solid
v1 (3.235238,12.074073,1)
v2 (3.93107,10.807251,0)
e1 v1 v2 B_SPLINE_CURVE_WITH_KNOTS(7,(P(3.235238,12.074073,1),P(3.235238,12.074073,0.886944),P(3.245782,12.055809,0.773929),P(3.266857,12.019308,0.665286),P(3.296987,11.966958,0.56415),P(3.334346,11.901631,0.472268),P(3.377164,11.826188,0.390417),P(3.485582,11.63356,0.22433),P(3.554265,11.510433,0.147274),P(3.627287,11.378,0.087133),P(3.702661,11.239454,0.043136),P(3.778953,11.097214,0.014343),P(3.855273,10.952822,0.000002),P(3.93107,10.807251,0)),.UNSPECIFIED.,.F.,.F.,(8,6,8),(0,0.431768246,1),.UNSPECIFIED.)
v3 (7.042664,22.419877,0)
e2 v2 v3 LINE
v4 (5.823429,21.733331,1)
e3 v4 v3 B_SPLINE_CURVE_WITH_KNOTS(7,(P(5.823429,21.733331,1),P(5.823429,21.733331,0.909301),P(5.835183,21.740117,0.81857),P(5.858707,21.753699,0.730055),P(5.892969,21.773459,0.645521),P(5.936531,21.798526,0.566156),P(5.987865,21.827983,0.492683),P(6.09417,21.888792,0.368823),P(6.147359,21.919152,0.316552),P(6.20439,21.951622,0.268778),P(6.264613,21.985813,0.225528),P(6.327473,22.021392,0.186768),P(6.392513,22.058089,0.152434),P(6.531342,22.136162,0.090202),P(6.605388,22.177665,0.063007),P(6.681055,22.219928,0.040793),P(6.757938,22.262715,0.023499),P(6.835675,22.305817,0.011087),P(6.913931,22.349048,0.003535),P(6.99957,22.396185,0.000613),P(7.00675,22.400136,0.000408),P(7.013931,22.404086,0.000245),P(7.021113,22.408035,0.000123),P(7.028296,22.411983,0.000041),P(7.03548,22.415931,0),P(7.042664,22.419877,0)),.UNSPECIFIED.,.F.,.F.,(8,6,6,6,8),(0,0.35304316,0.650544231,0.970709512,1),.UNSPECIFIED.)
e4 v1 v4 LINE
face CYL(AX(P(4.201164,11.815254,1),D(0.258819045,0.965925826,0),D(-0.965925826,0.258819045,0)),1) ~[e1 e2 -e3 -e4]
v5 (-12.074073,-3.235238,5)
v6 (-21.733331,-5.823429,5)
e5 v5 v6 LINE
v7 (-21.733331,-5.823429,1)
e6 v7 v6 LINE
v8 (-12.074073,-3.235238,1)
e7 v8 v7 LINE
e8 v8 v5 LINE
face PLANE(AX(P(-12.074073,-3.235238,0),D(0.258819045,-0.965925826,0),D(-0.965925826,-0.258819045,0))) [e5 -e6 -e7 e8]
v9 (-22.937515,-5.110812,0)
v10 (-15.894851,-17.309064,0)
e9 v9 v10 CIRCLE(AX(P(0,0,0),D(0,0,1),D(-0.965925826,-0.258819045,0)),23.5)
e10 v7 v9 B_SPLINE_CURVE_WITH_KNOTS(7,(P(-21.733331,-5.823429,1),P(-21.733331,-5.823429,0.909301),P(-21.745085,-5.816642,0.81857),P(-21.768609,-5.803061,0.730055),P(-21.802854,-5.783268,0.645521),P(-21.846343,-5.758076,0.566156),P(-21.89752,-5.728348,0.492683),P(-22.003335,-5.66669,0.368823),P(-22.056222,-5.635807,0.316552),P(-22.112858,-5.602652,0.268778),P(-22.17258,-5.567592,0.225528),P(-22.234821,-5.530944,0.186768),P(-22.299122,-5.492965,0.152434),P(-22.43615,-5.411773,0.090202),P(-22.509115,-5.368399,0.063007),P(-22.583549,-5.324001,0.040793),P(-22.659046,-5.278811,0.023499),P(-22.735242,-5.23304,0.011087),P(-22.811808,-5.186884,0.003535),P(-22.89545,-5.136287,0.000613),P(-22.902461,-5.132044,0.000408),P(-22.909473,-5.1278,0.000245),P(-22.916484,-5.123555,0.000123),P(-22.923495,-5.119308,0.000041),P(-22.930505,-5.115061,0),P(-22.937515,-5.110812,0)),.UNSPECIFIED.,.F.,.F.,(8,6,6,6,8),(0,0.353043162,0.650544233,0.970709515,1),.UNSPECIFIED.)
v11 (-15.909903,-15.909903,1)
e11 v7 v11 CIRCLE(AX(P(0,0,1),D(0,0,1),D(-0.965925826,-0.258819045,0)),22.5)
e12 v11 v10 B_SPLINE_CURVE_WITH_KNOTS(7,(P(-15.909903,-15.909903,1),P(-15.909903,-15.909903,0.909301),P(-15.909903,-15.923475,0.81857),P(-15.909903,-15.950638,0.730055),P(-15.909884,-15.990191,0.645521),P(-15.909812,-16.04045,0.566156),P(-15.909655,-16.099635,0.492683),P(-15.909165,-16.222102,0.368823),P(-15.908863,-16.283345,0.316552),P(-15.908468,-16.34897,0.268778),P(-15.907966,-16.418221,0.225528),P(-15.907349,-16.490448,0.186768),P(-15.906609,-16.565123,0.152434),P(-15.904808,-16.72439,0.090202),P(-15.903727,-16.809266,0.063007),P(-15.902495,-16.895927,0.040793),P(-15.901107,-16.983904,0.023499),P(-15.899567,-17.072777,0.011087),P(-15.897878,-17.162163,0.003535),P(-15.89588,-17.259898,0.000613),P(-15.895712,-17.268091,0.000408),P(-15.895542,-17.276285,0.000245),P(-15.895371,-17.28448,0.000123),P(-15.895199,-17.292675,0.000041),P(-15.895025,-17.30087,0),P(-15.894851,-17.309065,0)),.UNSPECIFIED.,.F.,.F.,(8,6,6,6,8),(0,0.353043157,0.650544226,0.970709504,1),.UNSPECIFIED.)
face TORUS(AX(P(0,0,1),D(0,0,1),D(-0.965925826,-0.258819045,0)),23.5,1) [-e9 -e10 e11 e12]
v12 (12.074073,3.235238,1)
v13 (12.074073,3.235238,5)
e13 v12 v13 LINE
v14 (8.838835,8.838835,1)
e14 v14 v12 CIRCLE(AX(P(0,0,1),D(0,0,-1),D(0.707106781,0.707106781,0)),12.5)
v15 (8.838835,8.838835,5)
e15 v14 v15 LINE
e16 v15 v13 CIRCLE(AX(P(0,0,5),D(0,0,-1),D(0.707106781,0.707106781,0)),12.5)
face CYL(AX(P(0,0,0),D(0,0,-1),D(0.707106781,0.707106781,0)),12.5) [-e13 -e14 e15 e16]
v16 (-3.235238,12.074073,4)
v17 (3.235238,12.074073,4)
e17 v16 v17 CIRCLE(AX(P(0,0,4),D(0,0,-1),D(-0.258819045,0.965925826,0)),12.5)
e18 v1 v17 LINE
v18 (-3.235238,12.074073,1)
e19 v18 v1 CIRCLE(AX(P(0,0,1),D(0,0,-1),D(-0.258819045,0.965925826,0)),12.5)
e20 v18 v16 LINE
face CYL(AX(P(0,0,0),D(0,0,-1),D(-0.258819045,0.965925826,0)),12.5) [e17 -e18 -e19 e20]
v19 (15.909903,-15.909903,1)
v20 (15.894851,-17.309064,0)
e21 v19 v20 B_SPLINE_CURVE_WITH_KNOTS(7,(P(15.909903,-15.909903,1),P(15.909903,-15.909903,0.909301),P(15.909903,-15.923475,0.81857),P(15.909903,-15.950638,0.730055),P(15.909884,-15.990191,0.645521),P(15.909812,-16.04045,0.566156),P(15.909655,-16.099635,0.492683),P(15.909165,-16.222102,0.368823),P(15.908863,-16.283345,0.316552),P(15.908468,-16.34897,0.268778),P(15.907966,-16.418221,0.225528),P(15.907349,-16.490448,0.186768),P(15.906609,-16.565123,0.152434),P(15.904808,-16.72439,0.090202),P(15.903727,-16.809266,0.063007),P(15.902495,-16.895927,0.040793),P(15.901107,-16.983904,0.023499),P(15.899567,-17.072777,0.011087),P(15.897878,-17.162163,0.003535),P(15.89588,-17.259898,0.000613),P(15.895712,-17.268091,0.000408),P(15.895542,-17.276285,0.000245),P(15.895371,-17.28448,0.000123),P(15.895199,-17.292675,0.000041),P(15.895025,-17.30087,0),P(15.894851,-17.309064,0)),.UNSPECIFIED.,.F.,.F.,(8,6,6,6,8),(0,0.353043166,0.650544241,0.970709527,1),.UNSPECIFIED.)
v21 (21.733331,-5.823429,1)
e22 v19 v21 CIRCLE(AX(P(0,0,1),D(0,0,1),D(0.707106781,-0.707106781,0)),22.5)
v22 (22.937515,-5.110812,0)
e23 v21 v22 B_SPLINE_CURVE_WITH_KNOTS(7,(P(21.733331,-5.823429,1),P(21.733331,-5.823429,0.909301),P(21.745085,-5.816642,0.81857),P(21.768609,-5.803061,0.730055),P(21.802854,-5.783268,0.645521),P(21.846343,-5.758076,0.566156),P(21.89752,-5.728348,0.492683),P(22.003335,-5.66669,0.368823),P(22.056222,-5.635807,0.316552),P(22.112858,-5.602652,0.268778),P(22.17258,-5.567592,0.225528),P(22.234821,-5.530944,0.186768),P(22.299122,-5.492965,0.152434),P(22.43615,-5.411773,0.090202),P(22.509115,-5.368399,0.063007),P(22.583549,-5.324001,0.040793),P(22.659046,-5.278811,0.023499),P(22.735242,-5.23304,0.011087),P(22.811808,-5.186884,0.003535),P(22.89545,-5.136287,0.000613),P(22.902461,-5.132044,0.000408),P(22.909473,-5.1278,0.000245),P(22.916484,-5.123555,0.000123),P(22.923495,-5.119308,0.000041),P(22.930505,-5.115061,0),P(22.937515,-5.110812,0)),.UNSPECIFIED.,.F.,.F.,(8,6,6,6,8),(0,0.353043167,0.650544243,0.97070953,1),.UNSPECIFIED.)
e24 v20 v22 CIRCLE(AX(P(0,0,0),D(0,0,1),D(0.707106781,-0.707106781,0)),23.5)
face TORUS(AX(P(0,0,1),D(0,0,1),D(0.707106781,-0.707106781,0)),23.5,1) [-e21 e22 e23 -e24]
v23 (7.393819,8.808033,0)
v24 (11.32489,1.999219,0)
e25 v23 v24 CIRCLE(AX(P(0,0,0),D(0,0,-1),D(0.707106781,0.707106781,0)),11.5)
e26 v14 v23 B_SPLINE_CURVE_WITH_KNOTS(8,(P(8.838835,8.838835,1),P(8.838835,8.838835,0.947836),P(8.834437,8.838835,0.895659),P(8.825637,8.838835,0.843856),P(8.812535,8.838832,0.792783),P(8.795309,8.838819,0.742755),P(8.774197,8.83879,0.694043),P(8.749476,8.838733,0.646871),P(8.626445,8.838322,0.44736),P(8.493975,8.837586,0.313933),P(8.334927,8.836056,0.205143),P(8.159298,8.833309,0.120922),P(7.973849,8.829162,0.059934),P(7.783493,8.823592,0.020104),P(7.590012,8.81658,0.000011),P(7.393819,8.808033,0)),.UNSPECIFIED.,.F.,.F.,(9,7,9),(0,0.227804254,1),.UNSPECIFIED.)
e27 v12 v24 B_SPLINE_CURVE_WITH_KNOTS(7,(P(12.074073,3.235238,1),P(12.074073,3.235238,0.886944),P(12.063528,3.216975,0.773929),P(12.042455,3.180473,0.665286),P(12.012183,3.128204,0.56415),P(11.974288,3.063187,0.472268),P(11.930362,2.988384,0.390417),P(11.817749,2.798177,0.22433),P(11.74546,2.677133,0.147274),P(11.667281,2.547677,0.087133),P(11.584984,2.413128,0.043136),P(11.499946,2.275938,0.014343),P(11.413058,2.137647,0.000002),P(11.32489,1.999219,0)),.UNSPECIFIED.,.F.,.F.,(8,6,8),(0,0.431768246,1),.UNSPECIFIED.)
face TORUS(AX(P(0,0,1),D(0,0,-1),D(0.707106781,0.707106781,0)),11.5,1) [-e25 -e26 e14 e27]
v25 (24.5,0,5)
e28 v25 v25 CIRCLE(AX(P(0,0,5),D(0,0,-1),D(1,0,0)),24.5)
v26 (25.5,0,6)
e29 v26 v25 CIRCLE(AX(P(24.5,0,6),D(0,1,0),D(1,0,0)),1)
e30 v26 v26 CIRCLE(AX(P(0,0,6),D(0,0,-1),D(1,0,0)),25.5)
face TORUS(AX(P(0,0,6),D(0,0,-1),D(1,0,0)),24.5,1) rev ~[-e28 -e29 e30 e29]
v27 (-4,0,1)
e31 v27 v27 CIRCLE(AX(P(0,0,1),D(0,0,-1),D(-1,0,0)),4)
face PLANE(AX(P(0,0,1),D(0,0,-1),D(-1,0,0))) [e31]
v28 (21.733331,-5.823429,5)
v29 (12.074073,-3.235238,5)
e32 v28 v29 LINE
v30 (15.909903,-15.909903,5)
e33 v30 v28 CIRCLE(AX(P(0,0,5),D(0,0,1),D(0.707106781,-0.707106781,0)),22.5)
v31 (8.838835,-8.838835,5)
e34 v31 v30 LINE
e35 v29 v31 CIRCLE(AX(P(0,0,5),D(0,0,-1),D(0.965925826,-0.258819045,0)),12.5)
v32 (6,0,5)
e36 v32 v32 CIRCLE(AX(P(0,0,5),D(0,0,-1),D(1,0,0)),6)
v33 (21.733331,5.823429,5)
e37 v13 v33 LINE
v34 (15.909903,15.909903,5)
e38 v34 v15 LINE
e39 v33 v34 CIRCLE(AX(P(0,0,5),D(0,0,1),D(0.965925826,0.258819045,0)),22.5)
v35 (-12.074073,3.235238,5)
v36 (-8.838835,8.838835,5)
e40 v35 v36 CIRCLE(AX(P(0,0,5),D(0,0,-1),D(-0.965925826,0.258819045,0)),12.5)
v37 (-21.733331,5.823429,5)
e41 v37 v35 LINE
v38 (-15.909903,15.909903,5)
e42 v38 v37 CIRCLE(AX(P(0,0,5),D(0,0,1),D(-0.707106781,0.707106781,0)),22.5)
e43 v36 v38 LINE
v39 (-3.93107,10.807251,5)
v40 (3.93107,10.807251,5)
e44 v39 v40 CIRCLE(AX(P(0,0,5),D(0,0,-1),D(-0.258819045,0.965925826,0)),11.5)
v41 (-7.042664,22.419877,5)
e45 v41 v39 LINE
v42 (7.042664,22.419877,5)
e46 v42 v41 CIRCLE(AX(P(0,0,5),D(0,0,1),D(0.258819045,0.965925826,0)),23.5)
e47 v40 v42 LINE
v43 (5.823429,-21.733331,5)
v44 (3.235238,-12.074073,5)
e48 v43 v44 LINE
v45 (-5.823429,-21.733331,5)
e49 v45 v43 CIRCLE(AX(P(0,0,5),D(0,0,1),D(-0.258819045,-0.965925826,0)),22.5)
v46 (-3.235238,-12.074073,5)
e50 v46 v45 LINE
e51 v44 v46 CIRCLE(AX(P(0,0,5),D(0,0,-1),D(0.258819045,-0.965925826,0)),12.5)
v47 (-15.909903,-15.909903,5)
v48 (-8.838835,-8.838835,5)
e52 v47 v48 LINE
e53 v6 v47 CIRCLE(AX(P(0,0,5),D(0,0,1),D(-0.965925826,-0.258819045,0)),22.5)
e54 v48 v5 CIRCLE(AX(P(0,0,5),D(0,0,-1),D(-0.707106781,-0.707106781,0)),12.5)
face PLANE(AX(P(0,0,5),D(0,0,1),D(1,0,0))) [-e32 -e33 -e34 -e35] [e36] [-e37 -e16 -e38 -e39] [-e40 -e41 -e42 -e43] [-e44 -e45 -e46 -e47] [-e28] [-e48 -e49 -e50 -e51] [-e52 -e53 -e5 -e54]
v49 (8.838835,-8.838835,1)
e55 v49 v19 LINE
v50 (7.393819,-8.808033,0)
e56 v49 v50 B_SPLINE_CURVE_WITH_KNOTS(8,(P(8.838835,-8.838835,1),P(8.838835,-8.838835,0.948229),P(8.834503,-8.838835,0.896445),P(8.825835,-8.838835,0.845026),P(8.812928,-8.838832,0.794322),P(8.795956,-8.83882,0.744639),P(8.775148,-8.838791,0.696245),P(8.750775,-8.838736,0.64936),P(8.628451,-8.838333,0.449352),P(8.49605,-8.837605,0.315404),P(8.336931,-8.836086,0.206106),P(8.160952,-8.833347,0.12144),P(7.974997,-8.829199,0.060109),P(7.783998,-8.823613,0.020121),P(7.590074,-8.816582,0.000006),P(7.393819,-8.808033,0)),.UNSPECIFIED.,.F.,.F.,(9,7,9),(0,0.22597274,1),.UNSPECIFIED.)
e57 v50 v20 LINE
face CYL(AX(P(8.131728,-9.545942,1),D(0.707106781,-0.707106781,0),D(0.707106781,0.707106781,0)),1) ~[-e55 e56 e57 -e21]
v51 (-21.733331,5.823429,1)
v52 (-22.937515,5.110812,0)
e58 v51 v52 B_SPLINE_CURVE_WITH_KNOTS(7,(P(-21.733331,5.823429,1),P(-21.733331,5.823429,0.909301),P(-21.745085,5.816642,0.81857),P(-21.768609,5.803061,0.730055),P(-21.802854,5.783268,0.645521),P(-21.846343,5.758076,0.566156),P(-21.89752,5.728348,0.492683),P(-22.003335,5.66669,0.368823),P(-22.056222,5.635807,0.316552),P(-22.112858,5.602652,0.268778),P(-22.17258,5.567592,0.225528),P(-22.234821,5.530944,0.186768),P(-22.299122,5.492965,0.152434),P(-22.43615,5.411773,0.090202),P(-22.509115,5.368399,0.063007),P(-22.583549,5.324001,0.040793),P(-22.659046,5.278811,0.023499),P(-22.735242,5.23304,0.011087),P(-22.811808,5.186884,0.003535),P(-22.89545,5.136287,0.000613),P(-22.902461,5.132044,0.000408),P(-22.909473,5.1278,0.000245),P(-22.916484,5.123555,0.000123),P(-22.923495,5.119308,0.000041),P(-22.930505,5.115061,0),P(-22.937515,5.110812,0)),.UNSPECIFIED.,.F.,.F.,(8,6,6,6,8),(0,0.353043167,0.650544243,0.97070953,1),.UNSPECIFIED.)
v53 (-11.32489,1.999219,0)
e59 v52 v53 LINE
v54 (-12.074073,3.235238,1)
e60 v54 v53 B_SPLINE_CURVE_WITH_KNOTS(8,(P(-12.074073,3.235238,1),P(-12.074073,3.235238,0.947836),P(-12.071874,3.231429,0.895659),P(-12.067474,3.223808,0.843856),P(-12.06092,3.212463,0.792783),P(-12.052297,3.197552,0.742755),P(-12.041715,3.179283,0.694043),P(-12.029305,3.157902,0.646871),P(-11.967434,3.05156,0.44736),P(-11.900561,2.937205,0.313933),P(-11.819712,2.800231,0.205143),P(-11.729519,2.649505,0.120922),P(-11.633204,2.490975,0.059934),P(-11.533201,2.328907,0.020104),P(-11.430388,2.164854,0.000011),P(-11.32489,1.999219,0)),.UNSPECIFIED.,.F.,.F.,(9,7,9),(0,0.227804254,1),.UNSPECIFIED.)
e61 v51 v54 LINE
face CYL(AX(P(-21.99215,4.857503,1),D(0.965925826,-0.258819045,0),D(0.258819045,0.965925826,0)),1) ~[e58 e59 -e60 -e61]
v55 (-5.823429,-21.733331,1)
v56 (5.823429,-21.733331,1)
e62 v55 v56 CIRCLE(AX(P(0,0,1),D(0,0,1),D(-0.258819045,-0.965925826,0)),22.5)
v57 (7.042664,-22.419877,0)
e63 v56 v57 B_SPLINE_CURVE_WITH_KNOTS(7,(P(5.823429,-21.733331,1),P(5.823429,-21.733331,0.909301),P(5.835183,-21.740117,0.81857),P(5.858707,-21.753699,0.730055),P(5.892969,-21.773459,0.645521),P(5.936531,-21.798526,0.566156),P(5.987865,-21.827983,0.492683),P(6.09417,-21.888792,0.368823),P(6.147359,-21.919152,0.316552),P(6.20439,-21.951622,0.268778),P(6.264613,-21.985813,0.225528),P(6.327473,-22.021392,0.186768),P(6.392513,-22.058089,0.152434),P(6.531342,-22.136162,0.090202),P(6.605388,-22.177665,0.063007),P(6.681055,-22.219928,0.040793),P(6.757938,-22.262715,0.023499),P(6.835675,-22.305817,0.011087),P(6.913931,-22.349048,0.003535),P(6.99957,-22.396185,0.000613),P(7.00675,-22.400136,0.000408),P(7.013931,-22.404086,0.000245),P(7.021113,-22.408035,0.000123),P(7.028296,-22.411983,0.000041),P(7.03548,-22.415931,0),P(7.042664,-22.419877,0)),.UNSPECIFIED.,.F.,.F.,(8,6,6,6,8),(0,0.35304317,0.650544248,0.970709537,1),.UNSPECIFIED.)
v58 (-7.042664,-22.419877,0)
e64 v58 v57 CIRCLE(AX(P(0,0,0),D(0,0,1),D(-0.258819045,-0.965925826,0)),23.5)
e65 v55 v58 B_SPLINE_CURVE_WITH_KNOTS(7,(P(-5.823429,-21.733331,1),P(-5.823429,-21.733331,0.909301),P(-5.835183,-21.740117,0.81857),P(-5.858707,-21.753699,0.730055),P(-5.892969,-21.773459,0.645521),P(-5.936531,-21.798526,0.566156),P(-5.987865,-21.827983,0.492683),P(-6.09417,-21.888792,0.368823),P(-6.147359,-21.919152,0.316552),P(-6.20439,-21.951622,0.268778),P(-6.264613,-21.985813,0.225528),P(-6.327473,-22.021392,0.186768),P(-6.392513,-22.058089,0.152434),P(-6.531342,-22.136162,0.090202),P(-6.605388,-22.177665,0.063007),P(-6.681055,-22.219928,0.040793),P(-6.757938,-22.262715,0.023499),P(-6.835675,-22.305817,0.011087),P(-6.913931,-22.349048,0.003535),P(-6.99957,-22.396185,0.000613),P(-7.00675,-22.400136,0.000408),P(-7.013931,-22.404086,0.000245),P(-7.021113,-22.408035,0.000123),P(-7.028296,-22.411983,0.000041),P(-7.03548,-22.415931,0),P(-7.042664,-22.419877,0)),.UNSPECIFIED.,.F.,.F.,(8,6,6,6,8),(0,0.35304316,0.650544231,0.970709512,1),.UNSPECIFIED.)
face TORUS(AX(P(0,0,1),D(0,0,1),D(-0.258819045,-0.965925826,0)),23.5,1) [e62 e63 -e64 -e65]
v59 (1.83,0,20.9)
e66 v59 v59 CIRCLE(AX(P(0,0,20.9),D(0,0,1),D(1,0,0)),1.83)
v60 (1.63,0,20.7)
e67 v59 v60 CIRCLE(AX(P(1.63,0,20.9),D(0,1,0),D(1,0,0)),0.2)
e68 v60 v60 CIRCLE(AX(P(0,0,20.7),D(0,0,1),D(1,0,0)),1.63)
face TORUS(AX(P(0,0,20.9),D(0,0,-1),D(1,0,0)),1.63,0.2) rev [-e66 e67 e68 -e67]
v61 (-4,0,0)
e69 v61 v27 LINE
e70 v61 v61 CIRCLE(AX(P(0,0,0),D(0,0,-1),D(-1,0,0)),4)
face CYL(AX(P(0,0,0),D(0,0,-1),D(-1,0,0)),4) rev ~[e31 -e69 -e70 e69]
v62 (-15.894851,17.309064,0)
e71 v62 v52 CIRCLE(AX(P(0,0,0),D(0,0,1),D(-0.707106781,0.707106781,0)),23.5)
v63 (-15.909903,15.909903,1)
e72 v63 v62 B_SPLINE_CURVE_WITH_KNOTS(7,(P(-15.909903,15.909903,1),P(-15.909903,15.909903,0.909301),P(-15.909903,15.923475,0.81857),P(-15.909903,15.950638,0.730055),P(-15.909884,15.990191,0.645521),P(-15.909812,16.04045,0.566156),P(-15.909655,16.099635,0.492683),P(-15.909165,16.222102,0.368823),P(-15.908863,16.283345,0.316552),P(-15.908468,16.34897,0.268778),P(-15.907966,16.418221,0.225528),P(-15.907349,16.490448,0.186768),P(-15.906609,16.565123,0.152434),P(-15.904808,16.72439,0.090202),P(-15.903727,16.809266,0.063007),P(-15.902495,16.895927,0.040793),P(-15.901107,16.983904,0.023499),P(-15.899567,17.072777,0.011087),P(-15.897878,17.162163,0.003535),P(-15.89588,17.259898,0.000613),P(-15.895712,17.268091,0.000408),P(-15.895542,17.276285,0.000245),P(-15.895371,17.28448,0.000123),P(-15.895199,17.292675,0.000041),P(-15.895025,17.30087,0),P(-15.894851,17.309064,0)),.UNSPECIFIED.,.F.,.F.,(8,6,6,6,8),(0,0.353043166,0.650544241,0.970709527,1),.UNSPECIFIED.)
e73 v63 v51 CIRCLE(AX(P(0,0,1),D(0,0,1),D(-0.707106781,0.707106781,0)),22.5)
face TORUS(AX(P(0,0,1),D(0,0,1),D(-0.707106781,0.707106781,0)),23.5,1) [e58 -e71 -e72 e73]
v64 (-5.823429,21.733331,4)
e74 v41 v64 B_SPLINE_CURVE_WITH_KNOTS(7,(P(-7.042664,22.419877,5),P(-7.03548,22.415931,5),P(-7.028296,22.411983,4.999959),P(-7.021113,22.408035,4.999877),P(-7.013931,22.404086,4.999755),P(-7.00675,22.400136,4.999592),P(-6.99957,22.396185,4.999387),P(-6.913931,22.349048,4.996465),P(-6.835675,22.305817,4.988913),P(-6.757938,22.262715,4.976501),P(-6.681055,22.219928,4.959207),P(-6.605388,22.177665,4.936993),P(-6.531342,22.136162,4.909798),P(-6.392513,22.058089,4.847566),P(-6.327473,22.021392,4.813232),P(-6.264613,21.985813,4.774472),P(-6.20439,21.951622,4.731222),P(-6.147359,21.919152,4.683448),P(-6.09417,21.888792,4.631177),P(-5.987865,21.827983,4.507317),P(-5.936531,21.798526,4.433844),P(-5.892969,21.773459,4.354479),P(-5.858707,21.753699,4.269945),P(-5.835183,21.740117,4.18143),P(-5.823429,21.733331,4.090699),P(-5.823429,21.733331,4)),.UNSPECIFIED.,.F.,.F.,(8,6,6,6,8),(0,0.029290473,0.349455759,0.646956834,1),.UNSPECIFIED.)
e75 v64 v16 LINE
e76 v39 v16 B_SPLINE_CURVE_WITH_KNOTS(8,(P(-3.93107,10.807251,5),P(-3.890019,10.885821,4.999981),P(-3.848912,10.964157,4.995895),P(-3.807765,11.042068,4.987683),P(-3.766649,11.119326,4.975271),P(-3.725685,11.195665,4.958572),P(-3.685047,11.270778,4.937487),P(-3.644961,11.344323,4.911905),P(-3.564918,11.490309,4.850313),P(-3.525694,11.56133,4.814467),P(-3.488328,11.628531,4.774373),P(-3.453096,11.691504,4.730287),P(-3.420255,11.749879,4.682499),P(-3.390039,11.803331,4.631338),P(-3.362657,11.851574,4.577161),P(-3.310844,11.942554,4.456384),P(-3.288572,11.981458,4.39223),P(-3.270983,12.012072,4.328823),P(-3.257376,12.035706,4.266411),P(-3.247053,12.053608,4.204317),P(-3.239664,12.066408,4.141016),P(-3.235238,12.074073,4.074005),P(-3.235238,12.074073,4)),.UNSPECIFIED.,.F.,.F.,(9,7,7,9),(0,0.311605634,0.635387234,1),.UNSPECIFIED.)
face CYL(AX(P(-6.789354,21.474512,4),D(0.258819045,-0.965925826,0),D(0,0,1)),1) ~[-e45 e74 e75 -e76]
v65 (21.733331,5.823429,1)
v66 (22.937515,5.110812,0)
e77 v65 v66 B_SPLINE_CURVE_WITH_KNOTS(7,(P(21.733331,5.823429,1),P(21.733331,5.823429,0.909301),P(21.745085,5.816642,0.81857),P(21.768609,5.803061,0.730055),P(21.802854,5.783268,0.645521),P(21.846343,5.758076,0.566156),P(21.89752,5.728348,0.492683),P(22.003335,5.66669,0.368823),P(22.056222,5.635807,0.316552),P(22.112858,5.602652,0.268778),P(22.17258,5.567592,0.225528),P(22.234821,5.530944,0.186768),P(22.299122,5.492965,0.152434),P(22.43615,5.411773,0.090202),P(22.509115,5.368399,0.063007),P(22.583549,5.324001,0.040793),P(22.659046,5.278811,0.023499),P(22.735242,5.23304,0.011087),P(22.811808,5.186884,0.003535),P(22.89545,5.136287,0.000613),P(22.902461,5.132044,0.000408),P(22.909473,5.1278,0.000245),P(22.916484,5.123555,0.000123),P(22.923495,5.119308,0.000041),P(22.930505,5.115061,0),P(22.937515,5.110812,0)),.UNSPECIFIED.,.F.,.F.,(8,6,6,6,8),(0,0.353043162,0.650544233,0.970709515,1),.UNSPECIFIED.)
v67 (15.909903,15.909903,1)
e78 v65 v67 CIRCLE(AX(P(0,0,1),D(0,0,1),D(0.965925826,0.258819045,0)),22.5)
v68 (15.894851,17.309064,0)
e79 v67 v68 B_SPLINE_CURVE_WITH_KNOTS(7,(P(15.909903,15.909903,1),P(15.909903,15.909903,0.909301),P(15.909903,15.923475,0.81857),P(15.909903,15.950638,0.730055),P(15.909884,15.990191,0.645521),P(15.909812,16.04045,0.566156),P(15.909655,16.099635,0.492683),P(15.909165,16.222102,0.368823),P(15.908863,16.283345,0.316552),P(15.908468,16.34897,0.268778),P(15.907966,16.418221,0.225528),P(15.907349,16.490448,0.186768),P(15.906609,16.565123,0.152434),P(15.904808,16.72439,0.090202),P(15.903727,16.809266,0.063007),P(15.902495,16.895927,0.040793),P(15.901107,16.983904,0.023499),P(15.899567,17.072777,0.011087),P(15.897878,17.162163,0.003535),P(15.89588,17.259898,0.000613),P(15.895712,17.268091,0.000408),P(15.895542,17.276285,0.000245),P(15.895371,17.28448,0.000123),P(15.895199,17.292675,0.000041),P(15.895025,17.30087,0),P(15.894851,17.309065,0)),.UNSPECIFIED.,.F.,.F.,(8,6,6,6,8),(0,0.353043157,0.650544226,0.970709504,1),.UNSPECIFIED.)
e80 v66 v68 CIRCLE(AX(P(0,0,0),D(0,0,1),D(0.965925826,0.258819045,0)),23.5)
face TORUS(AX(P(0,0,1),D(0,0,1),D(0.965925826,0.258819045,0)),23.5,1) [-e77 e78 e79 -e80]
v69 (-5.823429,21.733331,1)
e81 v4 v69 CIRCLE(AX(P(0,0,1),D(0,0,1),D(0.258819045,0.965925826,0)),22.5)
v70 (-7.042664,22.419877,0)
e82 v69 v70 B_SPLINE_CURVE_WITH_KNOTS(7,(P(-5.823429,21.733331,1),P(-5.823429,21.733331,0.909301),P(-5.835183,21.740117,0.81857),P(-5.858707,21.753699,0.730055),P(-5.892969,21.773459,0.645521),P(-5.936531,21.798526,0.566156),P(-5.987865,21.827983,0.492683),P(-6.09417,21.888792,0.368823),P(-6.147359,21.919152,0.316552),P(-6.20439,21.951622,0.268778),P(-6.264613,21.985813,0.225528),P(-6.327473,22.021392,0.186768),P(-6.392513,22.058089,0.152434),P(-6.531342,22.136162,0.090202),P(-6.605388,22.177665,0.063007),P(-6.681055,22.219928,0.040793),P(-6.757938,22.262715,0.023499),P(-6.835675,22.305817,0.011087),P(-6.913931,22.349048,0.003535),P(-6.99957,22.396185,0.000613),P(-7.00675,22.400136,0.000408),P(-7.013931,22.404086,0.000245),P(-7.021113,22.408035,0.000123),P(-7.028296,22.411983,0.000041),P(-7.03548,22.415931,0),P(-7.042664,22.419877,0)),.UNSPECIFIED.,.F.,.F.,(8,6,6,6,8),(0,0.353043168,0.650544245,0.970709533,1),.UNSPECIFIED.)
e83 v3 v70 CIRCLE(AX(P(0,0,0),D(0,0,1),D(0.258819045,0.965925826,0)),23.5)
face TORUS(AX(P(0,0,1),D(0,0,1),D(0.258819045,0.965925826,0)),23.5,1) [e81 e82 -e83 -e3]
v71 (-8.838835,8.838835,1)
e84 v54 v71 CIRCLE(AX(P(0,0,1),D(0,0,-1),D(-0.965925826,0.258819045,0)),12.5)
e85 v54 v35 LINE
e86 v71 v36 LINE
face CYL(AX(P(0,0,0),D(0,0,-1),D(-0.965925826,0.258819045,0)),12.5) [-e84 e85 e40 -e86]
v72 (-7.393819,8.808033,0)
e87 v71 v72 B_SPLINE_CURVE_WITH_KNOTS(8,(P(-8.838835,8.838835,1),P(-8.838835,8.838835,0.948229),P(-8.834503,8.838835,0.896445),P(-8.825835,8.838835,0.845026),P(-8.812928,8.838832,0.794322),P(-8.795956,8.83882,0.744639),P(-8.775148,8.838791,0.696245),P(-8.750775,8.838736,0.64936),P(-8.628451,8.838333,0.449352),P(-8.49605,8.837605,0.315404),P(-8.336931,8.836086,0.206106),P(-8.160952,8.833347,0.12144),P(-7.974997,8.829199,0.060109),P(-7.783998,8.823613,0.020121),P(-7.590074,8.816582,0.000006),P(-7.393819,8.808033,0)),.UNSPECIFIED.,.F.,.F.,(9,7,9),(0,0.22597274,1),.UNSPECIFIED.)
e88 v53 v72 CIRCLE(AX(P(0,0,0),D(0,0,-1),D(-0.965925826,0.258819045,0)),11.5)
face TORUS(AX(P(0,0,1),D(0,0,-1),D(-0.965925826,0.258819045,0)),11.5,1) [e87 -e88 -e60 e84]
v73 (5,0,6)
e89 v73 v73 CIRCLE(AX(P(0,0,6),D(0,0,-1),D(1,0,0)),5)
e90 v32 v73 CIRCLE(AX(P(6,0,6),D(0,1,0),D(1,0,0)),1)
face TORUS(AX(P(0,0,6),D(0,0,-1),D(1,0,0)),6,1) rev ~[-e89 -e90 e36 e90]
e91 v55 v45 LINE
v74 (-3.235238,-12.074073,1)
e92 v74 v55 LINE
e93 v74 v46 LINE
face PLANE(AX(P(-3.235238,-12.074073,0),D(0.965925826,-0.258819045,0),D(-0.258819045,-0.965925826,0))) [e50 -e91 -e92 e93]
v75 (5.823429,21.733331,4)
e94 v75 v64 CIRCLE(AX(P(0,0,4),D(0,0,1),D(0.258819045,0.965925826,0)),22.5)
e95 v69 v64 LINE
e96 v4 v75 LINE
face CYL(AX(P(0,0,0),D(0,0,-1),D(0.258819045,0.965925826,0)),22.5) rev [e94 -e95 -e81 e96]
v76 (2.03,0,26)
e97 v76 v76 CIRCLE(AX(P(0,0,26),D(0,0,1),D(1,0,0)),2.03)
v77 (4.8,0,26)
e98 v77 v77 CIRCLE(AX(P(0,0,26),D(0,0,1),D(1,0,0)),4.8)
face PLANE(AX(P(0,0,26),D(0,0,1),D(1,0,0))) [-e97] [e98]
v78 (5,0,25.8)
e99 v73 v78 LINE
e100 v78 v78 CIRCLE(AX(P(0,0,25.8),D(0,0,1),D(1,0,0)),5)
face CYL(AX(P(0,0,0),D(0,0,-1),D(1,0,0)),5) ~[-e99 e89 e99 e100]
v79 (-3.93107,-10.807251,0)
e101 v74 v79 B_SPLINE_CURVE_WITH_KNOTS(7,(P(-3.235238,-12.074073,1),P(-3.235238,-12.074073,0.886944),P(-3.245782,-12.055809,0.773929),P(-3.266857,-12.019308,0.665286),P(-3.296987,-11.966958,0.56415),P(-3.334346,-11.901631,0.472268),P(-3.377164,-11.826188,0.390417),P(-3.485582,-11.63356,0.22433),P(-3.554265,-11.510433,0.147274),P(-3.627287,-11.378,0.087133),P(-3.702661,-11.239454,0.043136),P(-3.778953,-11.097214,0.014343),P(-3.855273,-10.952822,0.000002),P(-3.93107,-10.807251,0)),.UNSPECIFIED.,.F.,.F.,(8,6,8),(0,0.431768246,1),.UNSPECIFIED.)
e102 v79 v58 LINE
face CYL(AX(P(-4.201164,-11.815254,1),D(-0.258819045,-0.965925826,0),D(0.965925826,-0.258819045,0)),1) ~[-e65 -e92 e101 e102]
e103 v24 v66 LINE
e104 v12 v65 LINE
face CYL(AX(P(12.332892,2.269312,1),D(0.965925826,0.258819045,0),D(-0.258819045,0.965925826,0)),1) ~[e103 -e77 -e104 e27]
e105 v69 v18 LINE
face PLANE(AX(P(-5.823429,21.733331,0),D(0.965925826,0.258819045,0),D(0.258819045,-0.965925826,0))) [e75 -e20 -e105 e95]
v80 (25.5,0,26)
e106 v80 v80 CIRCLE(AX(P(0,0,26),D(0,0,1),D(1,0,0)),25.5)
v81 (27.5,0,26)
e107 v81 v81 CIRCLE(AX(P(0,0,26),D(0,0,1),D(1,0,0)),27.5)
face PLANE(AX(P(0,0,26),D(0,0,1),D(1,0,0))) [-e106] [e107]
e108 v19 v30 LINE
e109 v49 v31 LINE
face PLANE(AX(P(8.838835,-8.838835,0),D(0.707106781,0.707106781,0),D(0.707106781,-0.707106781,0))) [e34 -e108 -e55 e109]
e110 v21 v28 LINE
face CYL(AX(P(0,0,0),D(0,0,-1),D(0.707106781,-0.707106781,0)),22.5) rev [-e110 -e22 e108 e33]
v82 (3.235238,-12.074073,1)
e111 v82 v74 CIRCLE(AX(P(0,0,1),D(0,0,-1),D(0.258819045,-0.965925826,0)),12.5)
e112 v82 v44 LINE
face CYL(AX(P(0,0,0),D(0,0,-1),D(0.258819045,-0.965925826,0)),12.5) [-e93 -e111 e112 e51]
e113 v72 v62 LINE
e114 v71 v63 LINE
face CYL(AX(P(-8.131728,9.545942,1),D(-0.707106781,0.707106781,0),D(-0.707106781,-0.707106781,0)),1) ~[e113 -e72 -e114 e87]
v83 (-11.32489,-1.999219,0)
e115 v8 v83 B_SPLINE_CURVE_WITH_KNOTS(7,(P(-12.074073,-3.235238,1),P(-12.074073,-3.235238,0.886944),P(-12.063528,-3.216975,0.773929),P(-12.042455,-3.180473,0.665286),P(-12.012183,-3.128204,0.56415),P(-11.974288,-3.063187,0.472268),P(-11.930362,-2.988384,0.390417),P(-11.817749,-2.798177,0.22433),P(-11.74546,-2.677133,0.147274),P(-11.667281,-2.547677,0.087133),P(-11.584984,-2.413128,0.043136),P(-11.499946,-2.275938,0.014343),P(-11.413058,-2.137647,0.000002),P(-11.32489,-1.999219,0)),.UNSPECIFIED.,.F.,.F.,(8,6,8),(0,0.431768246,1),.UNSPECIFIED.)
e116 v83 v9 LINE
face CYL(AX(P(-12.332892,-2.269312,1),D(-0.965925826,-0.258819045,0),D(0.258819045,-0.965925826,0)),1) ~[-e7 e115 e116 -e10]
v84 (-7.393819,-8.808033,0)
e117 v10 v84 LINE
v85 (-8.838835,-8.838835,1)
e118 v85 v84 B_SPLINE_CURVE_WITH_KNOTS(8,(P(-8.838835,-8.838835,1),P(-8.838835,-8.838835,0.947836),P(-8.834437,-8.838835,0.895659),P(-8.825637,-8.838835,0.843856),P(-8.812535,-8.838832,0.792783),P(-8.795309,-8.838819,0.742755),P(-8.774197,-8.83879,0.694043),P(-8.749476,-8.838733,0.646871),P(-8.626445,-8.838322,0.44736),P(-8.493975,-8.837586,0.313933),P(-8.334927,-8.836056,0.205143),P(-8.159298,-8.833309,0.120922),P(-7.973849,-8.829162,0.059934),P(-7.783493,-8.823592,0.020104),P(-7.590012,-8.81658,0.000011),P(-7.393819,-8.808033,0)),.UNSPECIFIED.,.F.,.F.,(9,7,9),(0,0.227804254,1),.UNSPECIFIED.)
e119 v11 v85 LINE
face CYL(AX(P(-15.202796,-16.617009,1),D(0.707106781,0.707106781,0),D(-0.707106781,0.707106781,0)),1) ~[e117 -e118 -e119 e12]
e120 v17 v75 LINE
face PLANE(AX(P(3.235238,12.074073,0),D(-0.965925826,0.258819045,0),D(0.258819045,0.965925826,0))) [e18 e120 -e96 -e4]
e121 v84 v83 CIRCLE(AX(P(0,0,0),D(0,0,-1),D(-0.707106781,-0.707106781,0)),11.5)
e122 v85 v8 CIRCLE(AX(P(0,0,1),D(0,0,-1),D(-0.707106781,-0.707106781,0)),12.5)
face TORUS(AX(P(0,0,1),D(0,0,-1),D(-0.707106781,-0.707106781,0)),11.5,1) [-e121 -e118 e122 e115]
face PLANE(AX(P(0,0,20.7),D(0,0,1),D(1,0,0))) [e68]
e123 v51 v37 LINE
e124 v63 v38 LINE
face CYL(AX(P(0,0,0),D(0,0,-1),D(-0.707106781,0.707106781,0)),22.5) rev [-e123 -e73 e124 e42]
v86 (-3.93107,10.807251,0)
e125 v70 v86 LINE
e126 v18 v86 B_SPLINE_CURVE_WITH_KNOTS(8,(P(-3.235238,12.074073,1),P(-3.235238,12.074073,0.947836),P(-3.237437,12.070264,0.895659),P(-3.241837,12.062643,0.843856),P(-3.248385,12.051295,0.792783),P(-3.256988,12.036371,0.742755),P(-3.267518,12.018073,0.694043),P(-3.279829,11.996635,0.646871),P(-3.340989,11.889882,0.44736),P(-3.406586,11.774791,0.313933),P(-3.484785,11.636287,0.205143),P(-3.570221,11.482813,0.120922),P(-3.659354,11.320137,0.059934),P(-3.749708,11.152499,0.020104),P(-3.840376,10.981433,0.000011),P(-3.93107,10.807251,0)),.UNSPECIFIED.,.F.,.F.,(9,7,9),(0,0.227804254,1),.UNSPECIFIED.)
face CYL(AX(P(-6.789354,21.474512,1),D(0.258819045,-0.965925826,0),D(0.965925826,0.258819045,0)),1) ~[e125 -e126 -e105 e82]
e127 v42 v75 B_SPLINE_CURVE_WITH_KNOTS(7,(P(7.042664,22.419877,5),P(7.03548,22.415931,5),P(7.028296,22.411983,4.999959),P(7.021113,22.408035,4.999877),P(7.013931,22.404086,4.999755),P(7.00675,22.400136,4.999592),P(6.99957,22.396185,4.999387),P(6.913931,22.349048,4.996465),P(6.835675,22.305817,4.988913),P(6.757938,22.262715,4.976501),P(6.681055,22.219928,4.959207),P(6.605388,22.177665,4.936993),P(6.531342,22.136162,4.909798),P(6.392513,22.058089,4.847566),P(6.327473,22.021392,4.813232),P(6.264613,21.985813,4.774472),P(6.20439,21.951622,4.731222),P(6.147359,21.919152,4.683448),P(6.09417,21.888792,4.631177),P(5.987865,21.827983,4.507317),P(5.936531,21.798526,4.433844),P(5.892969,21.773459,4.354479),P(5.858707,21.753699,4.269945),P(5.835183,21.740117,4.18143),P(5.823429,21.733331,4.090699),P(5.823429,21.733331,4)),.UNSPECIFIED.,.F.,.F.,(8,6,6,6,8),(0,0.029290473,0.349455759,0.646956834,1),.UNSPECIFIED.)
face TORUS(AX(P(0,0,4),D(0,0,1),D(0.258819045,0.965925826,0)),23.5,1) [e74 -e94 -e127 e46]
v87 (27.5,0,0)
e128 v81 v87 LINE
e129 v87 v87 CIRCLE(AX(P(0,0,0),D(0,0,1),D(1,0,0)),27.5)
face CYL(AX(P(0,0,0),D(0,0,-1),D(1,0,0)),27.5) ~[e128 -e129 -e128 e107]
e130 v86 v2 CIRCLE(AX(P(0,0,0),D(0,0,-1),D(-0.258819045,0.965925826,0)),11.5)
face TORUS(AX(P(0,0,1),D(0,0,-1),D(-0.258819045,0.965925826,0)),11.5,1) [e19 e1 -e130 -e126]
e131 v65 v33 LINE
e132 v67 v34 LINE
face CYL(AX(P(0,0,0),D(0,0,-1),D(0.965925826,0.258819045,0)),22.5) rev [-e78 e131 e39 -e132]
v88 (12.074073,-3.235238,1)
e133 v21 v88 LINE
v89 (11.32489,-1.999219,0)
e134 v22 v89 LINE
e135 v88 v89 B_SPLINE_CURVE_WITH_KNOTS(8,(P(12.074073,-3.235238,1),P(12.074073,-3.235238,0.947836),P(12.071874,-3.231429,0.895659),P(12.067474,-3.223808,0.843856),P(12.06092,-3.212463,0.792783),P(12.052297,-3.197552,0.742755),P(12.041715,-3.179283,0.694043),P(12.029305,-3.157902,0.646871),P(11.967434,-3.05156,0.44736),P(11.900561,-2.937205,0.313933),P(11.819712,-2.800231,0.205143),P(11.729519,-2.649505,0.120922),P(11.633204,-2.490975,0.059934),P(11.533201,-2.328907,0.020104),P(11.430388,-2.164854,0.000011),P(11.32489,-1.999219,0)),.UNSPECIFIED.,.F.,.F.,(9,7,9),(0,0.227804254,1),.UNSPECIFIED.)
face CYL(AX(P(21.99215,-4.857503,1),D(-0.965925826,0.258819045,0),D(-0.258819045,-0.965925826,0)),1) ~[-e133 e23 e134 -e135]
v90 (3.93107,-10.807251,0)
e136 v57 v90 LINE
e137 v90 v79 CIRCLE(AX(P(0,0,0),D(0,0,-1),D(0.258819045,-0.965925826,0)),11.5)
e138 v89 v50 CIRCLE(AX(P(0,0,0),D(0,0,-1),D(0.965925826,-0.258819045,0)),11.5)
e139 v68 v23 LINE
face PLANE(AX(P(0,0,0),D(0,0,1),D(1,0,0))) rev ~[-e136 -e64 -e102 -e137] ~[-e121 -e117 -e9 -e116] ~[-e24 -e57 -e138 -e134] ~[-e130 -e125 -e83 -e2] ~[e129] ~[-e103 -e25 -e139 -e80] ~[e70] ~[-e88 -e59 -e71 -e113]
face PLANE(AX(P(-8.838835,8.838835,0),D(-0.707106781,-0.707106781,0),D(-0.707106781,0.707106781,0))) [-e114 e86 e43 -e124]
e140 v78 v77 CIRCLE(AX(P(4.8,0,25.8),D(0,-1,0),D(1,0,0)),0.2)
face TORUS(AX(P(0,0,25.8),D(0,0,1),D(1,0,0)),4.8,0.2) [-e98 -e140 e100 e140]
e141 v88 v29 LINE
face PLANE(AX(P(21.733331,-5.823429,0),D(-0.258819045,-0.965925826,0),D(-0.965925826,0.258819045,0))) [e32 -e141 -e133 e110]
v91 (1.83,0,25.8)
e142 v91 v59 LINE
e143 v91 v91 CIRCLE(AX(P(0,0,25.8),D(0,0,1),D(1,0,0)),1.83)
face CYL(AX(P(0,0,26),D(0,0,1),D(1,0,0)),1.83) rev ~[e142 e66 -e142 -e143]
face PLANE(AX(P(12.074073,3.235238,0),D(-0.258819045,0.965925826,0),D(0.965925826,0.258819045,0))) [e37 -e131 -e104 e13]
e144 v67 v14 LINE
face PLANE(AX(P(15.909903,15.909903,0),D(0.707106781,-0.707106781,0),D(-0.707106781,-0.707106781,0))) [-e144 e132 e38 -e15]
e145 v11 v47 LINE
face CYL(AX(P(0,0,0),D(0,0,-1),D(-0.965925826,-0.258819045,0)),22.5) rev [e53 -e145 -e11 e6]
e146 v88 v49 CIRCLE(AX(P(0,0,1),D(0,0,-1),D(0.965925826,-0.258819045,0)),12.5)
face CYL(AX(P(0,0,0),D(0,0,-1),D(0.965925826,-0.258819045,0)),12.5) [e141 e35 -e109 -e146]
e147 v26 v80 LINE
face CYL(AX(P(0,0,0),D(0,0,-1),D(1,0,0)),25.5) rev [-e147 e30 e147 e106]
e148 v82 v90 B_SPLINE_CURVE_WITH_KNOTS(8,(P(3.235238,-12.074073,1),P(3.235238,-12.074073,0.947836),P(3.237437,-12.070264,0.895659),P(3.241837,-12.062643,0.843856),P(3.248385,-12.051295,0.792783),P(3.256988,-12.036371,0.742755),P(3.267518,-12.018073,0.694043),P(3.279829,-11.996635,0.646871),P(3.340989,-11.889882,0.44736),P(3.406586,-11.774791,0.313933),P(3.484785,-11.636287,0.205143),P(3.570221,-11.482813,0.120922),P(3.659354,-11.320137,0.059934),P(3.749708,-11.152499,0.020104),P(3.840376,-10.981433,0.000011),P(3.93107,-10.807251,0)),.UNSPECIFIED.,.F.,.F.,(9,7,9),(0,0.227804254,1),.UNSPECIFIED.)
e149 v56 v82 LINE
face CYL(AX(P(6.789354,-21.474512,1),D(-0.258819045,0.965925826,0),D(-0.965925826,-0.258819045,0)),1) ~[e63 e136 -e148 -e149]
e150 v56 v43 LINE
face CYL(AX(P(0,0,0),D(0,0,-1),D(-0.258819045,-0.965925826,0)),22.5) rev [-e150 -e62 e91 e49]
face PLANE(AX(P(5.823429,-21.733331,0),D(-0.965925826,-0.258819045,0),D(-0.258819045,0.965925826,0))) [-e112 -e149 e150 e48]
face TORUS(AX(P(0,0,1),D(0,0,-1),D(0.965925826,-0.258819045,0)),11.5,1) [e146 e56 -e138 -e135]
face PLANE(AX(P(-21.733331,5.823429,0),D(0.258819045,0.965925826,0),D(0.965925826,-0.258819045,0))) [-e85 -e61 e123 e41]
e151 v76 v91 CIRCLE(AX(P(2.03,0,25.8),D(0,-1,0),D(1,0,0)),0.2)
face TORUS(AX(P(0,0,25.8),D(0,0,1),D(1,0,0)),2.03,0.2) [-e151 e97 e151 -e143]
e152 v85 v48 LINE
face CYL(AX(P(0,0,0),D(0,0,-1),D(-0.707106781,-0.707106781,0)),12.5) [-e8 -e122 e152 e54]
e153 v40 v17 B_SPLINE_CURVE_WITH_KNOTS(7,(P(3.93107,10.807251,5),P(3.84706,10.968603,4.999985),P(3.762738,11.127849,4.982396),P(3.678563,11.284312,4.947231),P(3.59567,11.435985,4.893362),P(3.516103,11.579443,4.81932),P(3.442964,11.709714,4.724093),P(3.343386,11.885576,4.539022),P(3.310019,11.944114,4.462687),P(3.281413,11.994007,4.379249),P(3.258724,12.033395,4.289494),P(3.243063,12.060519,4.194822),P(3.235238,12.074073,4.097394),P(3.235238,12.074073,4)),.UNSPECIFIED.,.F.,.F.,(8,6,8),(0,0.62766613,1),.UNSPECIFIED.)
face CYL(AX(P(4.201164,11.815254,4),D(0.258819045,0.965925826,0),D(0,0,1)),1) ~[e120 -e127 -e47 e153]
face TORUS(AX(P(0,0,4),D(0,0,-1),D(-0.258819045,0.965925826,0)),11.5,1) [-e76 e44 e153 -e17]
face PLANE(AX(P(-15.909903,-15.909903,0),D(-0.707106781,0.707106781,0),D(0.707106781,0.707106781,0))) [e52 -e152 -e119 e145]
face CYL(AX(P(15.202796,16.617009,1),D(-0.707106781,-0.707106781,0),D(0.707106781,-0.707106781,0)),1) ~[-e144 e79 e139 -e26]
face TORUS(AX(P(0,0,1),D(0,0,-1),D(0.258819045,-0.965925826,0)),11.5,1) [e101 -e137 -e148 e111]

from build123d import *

# Parameters (mm, degrees)
SKETCH1_R           = 27.5
BOSS_EXTRUDE1_DEPTH = 5
SKETCH2_R           = 27.5
SKETCH2_R_2         = 25.5
SKETCH2_R_3         = 5
BOSS_EXTRUDE3_DEPTH = 26
SKETCH3_R           = 1.83
CUT_EXTRUDE1_DEPTH  = 5.3
FILLET1_R           = 1
FILLET2_R           = 1
SKETCH4_R           = 4
CUT_EXTRUDE2_DEPTH  = 1
FILLET3_R           = 0.2


with BuildPart() as part:
    # Sketch1 → Boss-Extrude1 (new body)
    with BuildSketch(Plane.XY):
        Circle(SKETCH1_R)
        with BuildLine():
            Line((-5.823428515, 21.733331092), (-3.235238064, 12.074072829))
            ThreePointArc((-3.235238064, 12.074072829), (0, 12.5), (3.235238064, 12.074072829))
            Line((3.235238064, 12.074072829), (5.823428515, 21.733331092))
            ThreePointArc((5.823428515, 21.733331092), (0, 22.5), (-5.823428515, 21.733331092))
        make_face(mode=Mode.SUBTRACT)
        with BuildLine():
            Line((15.909902577, 15.909902577), (8.838834765, 8.838834765))
            ThreePointArc((8.838834765, 8.838834765), (10.825317547, 6.25), (12.074072829, 3.235238064))
            Line((12.074072829, 3.235238064), (21.733331092, 5.823428515))
            ThreePointArc((21.733331092, 5.823428515), (19.485571585, 11.25), (15.909902577, 15.909902577))
        make_face(mode=Mode.SUBTRACT)
        with BuildLine():
            Line((21.733331092, -5.823428515), (12.074072829, -3.235238064))
            ThreePointArc((12.074072829, -3.235238064), (10.825317547, -6.25), (8.838834765, -8.838834765))
            Line((8.838834765, -8.838834765), (15.909902577, -15.909902577))
            ThreePointArc((15.909902577, -15.909902577), (19.485571585, -11.25), (21.733331092, -5.823428515))
        make_face(mode=Mode.SUBTRACT)
        with BuildLine():
            Line((5.823428515, -21.733331092), (3.235238064, -12.074072829))
            ThreePointArc((3.235238064, -12.074072829), (0, -12.5), (-3.235238064, -12.074072829))
            Line((-3.235238064, -12.074072829), (-5.823428515, -21.733331092))
            ThreePointArc((-5.823428515, -21.733331092), (0, -22.5), (5.823428515, -21.733331092))
        make_face(mode=Mode.SUBTRACT)
        with BuildLine():
            Line((-15.909902577, -15.909902577), (-8.838834765, -8.838834765))
            ThreePointArc((-8.838834765, -8.838834765), (-10.825317547, -6.25), (-12.074072829, -3.235238064))
            Line((-12.074072829, -3.235238064), (-21.733331092, -5.823428515))
            ThreePointArc((-21.733331092, -5.823428515), (-19.485571585, -11.25), (-15.909902577, -15.909902577))
        make_face(mode=Mode.SUBTRACT)
        with BuildLine():
            Line((-21.733331092, 5.823428515), (-12.074072829, 3.235238064))
            ThreePointArc((-12.074072829, 3.235238064), (-10.825317547, 6.25), (-8.838834765, 8.838834765))
            Line((-8.838834765, 8.838834765), (-15.909902577, 15.909902577))
            ThreePointArc((-15.909902577, 15.909902577), (-19.485571585, 11.25), (-21.733331092, 5.823428515))
        make_face(mode=Mode.SUBTRACT)
    extrude(amount=BOSS_EXTRUDE1_DEPTH)

    # Sketch2 → Boss-Extrude3 (add)
    with BuildSketch(Plane.XY):
        Circle(SKETCH2_R)
        Circle(SKETCH2_R_2, mode=Mode.SUBTRACT)
        Circle(SKETCH2_R_3)
    extrude(amount=BOSS_EXTRUDE3_DEPTH)

    # Sketch3 → Cut-Extrude1 (cut)
    with BuildSketch(Plane.XY.offset(26)):
        Circle(SKETCH3_R)
    extrude(amount=-CUT_EXTRUDE1_DEPTH, mode=Mode.SUBTRACT)

    # Fillet1
    fillet1_edges = [part.edges().sort_by_distance(p)[0] for p in [
        (-25.5, 0, 5),
        (-5, 0, 5),
    ]]
    fillet(fillet1_edges, radius=FILLET1_R)

    # Fillet2
    fillet2_edges = [part.edges().sort_by_distance(p)[0] for p in [
        (4.529333289, 16.90370196, 5),
        (19.485571585, 11.25, 0),
        (12.374368671, 12.374368671, 0),
        (10.825317547, 6.25, 0),
        (16.90370196, 4.529333289, 0),
        (19.485571585, -11.25, 0),
        (16.90370196, -4.529333289, 0),
        (10.825317547, -6.25, 0),
        (12.374368671, -12.374368671, 0),
        (0, -22.5, 0),
        (4.529333289, -16.90370196, 0),
        (0, -12.5, 0),
        (-4.529333289, -16.90370196, 0),
        (-19.485571585, -11.25, 0),
        (-12.374368671, -12.374368671, 0),
        (-10.825317547, -6.25, 0),
        (-16.90370196, -4.529333289, 0),
        (-19.485571585, 11.25, 0),
        (-16.90370196, 4.529333289, 0),
        (-10.825317547, 6.25, 0),
        (-12.374368671, 12.374368671, 0),
        (0, 22.5, 0),
        (-4.529333289, 16.90370196, 0),
        (0, 12.5, 0),
        (4.529333289, 16.90370196, 0),
        (0, 22.5, 5),
        (-4.529333289, 16.90370196, 5),
        (0, 12.5, 5),
    ]]
    fillet(fillet2_edges, radius=FILLET2_R)

    # Sketch4 → Cut-Extrude2 (cut)
    with BuildSketch(Plane(origin=(0, 0, 0), x_dir=(-1, 0, 0), z_dir=(0, 0, -1))):
        Circle(SKETCH4_R)
    extrude(amount=-CUT_EXTRUDE2_DEPTH, mode=Mode.SUBTRACT)

    # Fillet3
    fillet3_edges = [part.edges().sort_by_distance(p)[0] for p in [
        (-1.83, 0, 20.7),
        (-1.83, 0, 26),
        (-5, 0, 26),
    ]]
    fillet(fillet3_edges, radius=FILLET3_R)


solid = part.part
